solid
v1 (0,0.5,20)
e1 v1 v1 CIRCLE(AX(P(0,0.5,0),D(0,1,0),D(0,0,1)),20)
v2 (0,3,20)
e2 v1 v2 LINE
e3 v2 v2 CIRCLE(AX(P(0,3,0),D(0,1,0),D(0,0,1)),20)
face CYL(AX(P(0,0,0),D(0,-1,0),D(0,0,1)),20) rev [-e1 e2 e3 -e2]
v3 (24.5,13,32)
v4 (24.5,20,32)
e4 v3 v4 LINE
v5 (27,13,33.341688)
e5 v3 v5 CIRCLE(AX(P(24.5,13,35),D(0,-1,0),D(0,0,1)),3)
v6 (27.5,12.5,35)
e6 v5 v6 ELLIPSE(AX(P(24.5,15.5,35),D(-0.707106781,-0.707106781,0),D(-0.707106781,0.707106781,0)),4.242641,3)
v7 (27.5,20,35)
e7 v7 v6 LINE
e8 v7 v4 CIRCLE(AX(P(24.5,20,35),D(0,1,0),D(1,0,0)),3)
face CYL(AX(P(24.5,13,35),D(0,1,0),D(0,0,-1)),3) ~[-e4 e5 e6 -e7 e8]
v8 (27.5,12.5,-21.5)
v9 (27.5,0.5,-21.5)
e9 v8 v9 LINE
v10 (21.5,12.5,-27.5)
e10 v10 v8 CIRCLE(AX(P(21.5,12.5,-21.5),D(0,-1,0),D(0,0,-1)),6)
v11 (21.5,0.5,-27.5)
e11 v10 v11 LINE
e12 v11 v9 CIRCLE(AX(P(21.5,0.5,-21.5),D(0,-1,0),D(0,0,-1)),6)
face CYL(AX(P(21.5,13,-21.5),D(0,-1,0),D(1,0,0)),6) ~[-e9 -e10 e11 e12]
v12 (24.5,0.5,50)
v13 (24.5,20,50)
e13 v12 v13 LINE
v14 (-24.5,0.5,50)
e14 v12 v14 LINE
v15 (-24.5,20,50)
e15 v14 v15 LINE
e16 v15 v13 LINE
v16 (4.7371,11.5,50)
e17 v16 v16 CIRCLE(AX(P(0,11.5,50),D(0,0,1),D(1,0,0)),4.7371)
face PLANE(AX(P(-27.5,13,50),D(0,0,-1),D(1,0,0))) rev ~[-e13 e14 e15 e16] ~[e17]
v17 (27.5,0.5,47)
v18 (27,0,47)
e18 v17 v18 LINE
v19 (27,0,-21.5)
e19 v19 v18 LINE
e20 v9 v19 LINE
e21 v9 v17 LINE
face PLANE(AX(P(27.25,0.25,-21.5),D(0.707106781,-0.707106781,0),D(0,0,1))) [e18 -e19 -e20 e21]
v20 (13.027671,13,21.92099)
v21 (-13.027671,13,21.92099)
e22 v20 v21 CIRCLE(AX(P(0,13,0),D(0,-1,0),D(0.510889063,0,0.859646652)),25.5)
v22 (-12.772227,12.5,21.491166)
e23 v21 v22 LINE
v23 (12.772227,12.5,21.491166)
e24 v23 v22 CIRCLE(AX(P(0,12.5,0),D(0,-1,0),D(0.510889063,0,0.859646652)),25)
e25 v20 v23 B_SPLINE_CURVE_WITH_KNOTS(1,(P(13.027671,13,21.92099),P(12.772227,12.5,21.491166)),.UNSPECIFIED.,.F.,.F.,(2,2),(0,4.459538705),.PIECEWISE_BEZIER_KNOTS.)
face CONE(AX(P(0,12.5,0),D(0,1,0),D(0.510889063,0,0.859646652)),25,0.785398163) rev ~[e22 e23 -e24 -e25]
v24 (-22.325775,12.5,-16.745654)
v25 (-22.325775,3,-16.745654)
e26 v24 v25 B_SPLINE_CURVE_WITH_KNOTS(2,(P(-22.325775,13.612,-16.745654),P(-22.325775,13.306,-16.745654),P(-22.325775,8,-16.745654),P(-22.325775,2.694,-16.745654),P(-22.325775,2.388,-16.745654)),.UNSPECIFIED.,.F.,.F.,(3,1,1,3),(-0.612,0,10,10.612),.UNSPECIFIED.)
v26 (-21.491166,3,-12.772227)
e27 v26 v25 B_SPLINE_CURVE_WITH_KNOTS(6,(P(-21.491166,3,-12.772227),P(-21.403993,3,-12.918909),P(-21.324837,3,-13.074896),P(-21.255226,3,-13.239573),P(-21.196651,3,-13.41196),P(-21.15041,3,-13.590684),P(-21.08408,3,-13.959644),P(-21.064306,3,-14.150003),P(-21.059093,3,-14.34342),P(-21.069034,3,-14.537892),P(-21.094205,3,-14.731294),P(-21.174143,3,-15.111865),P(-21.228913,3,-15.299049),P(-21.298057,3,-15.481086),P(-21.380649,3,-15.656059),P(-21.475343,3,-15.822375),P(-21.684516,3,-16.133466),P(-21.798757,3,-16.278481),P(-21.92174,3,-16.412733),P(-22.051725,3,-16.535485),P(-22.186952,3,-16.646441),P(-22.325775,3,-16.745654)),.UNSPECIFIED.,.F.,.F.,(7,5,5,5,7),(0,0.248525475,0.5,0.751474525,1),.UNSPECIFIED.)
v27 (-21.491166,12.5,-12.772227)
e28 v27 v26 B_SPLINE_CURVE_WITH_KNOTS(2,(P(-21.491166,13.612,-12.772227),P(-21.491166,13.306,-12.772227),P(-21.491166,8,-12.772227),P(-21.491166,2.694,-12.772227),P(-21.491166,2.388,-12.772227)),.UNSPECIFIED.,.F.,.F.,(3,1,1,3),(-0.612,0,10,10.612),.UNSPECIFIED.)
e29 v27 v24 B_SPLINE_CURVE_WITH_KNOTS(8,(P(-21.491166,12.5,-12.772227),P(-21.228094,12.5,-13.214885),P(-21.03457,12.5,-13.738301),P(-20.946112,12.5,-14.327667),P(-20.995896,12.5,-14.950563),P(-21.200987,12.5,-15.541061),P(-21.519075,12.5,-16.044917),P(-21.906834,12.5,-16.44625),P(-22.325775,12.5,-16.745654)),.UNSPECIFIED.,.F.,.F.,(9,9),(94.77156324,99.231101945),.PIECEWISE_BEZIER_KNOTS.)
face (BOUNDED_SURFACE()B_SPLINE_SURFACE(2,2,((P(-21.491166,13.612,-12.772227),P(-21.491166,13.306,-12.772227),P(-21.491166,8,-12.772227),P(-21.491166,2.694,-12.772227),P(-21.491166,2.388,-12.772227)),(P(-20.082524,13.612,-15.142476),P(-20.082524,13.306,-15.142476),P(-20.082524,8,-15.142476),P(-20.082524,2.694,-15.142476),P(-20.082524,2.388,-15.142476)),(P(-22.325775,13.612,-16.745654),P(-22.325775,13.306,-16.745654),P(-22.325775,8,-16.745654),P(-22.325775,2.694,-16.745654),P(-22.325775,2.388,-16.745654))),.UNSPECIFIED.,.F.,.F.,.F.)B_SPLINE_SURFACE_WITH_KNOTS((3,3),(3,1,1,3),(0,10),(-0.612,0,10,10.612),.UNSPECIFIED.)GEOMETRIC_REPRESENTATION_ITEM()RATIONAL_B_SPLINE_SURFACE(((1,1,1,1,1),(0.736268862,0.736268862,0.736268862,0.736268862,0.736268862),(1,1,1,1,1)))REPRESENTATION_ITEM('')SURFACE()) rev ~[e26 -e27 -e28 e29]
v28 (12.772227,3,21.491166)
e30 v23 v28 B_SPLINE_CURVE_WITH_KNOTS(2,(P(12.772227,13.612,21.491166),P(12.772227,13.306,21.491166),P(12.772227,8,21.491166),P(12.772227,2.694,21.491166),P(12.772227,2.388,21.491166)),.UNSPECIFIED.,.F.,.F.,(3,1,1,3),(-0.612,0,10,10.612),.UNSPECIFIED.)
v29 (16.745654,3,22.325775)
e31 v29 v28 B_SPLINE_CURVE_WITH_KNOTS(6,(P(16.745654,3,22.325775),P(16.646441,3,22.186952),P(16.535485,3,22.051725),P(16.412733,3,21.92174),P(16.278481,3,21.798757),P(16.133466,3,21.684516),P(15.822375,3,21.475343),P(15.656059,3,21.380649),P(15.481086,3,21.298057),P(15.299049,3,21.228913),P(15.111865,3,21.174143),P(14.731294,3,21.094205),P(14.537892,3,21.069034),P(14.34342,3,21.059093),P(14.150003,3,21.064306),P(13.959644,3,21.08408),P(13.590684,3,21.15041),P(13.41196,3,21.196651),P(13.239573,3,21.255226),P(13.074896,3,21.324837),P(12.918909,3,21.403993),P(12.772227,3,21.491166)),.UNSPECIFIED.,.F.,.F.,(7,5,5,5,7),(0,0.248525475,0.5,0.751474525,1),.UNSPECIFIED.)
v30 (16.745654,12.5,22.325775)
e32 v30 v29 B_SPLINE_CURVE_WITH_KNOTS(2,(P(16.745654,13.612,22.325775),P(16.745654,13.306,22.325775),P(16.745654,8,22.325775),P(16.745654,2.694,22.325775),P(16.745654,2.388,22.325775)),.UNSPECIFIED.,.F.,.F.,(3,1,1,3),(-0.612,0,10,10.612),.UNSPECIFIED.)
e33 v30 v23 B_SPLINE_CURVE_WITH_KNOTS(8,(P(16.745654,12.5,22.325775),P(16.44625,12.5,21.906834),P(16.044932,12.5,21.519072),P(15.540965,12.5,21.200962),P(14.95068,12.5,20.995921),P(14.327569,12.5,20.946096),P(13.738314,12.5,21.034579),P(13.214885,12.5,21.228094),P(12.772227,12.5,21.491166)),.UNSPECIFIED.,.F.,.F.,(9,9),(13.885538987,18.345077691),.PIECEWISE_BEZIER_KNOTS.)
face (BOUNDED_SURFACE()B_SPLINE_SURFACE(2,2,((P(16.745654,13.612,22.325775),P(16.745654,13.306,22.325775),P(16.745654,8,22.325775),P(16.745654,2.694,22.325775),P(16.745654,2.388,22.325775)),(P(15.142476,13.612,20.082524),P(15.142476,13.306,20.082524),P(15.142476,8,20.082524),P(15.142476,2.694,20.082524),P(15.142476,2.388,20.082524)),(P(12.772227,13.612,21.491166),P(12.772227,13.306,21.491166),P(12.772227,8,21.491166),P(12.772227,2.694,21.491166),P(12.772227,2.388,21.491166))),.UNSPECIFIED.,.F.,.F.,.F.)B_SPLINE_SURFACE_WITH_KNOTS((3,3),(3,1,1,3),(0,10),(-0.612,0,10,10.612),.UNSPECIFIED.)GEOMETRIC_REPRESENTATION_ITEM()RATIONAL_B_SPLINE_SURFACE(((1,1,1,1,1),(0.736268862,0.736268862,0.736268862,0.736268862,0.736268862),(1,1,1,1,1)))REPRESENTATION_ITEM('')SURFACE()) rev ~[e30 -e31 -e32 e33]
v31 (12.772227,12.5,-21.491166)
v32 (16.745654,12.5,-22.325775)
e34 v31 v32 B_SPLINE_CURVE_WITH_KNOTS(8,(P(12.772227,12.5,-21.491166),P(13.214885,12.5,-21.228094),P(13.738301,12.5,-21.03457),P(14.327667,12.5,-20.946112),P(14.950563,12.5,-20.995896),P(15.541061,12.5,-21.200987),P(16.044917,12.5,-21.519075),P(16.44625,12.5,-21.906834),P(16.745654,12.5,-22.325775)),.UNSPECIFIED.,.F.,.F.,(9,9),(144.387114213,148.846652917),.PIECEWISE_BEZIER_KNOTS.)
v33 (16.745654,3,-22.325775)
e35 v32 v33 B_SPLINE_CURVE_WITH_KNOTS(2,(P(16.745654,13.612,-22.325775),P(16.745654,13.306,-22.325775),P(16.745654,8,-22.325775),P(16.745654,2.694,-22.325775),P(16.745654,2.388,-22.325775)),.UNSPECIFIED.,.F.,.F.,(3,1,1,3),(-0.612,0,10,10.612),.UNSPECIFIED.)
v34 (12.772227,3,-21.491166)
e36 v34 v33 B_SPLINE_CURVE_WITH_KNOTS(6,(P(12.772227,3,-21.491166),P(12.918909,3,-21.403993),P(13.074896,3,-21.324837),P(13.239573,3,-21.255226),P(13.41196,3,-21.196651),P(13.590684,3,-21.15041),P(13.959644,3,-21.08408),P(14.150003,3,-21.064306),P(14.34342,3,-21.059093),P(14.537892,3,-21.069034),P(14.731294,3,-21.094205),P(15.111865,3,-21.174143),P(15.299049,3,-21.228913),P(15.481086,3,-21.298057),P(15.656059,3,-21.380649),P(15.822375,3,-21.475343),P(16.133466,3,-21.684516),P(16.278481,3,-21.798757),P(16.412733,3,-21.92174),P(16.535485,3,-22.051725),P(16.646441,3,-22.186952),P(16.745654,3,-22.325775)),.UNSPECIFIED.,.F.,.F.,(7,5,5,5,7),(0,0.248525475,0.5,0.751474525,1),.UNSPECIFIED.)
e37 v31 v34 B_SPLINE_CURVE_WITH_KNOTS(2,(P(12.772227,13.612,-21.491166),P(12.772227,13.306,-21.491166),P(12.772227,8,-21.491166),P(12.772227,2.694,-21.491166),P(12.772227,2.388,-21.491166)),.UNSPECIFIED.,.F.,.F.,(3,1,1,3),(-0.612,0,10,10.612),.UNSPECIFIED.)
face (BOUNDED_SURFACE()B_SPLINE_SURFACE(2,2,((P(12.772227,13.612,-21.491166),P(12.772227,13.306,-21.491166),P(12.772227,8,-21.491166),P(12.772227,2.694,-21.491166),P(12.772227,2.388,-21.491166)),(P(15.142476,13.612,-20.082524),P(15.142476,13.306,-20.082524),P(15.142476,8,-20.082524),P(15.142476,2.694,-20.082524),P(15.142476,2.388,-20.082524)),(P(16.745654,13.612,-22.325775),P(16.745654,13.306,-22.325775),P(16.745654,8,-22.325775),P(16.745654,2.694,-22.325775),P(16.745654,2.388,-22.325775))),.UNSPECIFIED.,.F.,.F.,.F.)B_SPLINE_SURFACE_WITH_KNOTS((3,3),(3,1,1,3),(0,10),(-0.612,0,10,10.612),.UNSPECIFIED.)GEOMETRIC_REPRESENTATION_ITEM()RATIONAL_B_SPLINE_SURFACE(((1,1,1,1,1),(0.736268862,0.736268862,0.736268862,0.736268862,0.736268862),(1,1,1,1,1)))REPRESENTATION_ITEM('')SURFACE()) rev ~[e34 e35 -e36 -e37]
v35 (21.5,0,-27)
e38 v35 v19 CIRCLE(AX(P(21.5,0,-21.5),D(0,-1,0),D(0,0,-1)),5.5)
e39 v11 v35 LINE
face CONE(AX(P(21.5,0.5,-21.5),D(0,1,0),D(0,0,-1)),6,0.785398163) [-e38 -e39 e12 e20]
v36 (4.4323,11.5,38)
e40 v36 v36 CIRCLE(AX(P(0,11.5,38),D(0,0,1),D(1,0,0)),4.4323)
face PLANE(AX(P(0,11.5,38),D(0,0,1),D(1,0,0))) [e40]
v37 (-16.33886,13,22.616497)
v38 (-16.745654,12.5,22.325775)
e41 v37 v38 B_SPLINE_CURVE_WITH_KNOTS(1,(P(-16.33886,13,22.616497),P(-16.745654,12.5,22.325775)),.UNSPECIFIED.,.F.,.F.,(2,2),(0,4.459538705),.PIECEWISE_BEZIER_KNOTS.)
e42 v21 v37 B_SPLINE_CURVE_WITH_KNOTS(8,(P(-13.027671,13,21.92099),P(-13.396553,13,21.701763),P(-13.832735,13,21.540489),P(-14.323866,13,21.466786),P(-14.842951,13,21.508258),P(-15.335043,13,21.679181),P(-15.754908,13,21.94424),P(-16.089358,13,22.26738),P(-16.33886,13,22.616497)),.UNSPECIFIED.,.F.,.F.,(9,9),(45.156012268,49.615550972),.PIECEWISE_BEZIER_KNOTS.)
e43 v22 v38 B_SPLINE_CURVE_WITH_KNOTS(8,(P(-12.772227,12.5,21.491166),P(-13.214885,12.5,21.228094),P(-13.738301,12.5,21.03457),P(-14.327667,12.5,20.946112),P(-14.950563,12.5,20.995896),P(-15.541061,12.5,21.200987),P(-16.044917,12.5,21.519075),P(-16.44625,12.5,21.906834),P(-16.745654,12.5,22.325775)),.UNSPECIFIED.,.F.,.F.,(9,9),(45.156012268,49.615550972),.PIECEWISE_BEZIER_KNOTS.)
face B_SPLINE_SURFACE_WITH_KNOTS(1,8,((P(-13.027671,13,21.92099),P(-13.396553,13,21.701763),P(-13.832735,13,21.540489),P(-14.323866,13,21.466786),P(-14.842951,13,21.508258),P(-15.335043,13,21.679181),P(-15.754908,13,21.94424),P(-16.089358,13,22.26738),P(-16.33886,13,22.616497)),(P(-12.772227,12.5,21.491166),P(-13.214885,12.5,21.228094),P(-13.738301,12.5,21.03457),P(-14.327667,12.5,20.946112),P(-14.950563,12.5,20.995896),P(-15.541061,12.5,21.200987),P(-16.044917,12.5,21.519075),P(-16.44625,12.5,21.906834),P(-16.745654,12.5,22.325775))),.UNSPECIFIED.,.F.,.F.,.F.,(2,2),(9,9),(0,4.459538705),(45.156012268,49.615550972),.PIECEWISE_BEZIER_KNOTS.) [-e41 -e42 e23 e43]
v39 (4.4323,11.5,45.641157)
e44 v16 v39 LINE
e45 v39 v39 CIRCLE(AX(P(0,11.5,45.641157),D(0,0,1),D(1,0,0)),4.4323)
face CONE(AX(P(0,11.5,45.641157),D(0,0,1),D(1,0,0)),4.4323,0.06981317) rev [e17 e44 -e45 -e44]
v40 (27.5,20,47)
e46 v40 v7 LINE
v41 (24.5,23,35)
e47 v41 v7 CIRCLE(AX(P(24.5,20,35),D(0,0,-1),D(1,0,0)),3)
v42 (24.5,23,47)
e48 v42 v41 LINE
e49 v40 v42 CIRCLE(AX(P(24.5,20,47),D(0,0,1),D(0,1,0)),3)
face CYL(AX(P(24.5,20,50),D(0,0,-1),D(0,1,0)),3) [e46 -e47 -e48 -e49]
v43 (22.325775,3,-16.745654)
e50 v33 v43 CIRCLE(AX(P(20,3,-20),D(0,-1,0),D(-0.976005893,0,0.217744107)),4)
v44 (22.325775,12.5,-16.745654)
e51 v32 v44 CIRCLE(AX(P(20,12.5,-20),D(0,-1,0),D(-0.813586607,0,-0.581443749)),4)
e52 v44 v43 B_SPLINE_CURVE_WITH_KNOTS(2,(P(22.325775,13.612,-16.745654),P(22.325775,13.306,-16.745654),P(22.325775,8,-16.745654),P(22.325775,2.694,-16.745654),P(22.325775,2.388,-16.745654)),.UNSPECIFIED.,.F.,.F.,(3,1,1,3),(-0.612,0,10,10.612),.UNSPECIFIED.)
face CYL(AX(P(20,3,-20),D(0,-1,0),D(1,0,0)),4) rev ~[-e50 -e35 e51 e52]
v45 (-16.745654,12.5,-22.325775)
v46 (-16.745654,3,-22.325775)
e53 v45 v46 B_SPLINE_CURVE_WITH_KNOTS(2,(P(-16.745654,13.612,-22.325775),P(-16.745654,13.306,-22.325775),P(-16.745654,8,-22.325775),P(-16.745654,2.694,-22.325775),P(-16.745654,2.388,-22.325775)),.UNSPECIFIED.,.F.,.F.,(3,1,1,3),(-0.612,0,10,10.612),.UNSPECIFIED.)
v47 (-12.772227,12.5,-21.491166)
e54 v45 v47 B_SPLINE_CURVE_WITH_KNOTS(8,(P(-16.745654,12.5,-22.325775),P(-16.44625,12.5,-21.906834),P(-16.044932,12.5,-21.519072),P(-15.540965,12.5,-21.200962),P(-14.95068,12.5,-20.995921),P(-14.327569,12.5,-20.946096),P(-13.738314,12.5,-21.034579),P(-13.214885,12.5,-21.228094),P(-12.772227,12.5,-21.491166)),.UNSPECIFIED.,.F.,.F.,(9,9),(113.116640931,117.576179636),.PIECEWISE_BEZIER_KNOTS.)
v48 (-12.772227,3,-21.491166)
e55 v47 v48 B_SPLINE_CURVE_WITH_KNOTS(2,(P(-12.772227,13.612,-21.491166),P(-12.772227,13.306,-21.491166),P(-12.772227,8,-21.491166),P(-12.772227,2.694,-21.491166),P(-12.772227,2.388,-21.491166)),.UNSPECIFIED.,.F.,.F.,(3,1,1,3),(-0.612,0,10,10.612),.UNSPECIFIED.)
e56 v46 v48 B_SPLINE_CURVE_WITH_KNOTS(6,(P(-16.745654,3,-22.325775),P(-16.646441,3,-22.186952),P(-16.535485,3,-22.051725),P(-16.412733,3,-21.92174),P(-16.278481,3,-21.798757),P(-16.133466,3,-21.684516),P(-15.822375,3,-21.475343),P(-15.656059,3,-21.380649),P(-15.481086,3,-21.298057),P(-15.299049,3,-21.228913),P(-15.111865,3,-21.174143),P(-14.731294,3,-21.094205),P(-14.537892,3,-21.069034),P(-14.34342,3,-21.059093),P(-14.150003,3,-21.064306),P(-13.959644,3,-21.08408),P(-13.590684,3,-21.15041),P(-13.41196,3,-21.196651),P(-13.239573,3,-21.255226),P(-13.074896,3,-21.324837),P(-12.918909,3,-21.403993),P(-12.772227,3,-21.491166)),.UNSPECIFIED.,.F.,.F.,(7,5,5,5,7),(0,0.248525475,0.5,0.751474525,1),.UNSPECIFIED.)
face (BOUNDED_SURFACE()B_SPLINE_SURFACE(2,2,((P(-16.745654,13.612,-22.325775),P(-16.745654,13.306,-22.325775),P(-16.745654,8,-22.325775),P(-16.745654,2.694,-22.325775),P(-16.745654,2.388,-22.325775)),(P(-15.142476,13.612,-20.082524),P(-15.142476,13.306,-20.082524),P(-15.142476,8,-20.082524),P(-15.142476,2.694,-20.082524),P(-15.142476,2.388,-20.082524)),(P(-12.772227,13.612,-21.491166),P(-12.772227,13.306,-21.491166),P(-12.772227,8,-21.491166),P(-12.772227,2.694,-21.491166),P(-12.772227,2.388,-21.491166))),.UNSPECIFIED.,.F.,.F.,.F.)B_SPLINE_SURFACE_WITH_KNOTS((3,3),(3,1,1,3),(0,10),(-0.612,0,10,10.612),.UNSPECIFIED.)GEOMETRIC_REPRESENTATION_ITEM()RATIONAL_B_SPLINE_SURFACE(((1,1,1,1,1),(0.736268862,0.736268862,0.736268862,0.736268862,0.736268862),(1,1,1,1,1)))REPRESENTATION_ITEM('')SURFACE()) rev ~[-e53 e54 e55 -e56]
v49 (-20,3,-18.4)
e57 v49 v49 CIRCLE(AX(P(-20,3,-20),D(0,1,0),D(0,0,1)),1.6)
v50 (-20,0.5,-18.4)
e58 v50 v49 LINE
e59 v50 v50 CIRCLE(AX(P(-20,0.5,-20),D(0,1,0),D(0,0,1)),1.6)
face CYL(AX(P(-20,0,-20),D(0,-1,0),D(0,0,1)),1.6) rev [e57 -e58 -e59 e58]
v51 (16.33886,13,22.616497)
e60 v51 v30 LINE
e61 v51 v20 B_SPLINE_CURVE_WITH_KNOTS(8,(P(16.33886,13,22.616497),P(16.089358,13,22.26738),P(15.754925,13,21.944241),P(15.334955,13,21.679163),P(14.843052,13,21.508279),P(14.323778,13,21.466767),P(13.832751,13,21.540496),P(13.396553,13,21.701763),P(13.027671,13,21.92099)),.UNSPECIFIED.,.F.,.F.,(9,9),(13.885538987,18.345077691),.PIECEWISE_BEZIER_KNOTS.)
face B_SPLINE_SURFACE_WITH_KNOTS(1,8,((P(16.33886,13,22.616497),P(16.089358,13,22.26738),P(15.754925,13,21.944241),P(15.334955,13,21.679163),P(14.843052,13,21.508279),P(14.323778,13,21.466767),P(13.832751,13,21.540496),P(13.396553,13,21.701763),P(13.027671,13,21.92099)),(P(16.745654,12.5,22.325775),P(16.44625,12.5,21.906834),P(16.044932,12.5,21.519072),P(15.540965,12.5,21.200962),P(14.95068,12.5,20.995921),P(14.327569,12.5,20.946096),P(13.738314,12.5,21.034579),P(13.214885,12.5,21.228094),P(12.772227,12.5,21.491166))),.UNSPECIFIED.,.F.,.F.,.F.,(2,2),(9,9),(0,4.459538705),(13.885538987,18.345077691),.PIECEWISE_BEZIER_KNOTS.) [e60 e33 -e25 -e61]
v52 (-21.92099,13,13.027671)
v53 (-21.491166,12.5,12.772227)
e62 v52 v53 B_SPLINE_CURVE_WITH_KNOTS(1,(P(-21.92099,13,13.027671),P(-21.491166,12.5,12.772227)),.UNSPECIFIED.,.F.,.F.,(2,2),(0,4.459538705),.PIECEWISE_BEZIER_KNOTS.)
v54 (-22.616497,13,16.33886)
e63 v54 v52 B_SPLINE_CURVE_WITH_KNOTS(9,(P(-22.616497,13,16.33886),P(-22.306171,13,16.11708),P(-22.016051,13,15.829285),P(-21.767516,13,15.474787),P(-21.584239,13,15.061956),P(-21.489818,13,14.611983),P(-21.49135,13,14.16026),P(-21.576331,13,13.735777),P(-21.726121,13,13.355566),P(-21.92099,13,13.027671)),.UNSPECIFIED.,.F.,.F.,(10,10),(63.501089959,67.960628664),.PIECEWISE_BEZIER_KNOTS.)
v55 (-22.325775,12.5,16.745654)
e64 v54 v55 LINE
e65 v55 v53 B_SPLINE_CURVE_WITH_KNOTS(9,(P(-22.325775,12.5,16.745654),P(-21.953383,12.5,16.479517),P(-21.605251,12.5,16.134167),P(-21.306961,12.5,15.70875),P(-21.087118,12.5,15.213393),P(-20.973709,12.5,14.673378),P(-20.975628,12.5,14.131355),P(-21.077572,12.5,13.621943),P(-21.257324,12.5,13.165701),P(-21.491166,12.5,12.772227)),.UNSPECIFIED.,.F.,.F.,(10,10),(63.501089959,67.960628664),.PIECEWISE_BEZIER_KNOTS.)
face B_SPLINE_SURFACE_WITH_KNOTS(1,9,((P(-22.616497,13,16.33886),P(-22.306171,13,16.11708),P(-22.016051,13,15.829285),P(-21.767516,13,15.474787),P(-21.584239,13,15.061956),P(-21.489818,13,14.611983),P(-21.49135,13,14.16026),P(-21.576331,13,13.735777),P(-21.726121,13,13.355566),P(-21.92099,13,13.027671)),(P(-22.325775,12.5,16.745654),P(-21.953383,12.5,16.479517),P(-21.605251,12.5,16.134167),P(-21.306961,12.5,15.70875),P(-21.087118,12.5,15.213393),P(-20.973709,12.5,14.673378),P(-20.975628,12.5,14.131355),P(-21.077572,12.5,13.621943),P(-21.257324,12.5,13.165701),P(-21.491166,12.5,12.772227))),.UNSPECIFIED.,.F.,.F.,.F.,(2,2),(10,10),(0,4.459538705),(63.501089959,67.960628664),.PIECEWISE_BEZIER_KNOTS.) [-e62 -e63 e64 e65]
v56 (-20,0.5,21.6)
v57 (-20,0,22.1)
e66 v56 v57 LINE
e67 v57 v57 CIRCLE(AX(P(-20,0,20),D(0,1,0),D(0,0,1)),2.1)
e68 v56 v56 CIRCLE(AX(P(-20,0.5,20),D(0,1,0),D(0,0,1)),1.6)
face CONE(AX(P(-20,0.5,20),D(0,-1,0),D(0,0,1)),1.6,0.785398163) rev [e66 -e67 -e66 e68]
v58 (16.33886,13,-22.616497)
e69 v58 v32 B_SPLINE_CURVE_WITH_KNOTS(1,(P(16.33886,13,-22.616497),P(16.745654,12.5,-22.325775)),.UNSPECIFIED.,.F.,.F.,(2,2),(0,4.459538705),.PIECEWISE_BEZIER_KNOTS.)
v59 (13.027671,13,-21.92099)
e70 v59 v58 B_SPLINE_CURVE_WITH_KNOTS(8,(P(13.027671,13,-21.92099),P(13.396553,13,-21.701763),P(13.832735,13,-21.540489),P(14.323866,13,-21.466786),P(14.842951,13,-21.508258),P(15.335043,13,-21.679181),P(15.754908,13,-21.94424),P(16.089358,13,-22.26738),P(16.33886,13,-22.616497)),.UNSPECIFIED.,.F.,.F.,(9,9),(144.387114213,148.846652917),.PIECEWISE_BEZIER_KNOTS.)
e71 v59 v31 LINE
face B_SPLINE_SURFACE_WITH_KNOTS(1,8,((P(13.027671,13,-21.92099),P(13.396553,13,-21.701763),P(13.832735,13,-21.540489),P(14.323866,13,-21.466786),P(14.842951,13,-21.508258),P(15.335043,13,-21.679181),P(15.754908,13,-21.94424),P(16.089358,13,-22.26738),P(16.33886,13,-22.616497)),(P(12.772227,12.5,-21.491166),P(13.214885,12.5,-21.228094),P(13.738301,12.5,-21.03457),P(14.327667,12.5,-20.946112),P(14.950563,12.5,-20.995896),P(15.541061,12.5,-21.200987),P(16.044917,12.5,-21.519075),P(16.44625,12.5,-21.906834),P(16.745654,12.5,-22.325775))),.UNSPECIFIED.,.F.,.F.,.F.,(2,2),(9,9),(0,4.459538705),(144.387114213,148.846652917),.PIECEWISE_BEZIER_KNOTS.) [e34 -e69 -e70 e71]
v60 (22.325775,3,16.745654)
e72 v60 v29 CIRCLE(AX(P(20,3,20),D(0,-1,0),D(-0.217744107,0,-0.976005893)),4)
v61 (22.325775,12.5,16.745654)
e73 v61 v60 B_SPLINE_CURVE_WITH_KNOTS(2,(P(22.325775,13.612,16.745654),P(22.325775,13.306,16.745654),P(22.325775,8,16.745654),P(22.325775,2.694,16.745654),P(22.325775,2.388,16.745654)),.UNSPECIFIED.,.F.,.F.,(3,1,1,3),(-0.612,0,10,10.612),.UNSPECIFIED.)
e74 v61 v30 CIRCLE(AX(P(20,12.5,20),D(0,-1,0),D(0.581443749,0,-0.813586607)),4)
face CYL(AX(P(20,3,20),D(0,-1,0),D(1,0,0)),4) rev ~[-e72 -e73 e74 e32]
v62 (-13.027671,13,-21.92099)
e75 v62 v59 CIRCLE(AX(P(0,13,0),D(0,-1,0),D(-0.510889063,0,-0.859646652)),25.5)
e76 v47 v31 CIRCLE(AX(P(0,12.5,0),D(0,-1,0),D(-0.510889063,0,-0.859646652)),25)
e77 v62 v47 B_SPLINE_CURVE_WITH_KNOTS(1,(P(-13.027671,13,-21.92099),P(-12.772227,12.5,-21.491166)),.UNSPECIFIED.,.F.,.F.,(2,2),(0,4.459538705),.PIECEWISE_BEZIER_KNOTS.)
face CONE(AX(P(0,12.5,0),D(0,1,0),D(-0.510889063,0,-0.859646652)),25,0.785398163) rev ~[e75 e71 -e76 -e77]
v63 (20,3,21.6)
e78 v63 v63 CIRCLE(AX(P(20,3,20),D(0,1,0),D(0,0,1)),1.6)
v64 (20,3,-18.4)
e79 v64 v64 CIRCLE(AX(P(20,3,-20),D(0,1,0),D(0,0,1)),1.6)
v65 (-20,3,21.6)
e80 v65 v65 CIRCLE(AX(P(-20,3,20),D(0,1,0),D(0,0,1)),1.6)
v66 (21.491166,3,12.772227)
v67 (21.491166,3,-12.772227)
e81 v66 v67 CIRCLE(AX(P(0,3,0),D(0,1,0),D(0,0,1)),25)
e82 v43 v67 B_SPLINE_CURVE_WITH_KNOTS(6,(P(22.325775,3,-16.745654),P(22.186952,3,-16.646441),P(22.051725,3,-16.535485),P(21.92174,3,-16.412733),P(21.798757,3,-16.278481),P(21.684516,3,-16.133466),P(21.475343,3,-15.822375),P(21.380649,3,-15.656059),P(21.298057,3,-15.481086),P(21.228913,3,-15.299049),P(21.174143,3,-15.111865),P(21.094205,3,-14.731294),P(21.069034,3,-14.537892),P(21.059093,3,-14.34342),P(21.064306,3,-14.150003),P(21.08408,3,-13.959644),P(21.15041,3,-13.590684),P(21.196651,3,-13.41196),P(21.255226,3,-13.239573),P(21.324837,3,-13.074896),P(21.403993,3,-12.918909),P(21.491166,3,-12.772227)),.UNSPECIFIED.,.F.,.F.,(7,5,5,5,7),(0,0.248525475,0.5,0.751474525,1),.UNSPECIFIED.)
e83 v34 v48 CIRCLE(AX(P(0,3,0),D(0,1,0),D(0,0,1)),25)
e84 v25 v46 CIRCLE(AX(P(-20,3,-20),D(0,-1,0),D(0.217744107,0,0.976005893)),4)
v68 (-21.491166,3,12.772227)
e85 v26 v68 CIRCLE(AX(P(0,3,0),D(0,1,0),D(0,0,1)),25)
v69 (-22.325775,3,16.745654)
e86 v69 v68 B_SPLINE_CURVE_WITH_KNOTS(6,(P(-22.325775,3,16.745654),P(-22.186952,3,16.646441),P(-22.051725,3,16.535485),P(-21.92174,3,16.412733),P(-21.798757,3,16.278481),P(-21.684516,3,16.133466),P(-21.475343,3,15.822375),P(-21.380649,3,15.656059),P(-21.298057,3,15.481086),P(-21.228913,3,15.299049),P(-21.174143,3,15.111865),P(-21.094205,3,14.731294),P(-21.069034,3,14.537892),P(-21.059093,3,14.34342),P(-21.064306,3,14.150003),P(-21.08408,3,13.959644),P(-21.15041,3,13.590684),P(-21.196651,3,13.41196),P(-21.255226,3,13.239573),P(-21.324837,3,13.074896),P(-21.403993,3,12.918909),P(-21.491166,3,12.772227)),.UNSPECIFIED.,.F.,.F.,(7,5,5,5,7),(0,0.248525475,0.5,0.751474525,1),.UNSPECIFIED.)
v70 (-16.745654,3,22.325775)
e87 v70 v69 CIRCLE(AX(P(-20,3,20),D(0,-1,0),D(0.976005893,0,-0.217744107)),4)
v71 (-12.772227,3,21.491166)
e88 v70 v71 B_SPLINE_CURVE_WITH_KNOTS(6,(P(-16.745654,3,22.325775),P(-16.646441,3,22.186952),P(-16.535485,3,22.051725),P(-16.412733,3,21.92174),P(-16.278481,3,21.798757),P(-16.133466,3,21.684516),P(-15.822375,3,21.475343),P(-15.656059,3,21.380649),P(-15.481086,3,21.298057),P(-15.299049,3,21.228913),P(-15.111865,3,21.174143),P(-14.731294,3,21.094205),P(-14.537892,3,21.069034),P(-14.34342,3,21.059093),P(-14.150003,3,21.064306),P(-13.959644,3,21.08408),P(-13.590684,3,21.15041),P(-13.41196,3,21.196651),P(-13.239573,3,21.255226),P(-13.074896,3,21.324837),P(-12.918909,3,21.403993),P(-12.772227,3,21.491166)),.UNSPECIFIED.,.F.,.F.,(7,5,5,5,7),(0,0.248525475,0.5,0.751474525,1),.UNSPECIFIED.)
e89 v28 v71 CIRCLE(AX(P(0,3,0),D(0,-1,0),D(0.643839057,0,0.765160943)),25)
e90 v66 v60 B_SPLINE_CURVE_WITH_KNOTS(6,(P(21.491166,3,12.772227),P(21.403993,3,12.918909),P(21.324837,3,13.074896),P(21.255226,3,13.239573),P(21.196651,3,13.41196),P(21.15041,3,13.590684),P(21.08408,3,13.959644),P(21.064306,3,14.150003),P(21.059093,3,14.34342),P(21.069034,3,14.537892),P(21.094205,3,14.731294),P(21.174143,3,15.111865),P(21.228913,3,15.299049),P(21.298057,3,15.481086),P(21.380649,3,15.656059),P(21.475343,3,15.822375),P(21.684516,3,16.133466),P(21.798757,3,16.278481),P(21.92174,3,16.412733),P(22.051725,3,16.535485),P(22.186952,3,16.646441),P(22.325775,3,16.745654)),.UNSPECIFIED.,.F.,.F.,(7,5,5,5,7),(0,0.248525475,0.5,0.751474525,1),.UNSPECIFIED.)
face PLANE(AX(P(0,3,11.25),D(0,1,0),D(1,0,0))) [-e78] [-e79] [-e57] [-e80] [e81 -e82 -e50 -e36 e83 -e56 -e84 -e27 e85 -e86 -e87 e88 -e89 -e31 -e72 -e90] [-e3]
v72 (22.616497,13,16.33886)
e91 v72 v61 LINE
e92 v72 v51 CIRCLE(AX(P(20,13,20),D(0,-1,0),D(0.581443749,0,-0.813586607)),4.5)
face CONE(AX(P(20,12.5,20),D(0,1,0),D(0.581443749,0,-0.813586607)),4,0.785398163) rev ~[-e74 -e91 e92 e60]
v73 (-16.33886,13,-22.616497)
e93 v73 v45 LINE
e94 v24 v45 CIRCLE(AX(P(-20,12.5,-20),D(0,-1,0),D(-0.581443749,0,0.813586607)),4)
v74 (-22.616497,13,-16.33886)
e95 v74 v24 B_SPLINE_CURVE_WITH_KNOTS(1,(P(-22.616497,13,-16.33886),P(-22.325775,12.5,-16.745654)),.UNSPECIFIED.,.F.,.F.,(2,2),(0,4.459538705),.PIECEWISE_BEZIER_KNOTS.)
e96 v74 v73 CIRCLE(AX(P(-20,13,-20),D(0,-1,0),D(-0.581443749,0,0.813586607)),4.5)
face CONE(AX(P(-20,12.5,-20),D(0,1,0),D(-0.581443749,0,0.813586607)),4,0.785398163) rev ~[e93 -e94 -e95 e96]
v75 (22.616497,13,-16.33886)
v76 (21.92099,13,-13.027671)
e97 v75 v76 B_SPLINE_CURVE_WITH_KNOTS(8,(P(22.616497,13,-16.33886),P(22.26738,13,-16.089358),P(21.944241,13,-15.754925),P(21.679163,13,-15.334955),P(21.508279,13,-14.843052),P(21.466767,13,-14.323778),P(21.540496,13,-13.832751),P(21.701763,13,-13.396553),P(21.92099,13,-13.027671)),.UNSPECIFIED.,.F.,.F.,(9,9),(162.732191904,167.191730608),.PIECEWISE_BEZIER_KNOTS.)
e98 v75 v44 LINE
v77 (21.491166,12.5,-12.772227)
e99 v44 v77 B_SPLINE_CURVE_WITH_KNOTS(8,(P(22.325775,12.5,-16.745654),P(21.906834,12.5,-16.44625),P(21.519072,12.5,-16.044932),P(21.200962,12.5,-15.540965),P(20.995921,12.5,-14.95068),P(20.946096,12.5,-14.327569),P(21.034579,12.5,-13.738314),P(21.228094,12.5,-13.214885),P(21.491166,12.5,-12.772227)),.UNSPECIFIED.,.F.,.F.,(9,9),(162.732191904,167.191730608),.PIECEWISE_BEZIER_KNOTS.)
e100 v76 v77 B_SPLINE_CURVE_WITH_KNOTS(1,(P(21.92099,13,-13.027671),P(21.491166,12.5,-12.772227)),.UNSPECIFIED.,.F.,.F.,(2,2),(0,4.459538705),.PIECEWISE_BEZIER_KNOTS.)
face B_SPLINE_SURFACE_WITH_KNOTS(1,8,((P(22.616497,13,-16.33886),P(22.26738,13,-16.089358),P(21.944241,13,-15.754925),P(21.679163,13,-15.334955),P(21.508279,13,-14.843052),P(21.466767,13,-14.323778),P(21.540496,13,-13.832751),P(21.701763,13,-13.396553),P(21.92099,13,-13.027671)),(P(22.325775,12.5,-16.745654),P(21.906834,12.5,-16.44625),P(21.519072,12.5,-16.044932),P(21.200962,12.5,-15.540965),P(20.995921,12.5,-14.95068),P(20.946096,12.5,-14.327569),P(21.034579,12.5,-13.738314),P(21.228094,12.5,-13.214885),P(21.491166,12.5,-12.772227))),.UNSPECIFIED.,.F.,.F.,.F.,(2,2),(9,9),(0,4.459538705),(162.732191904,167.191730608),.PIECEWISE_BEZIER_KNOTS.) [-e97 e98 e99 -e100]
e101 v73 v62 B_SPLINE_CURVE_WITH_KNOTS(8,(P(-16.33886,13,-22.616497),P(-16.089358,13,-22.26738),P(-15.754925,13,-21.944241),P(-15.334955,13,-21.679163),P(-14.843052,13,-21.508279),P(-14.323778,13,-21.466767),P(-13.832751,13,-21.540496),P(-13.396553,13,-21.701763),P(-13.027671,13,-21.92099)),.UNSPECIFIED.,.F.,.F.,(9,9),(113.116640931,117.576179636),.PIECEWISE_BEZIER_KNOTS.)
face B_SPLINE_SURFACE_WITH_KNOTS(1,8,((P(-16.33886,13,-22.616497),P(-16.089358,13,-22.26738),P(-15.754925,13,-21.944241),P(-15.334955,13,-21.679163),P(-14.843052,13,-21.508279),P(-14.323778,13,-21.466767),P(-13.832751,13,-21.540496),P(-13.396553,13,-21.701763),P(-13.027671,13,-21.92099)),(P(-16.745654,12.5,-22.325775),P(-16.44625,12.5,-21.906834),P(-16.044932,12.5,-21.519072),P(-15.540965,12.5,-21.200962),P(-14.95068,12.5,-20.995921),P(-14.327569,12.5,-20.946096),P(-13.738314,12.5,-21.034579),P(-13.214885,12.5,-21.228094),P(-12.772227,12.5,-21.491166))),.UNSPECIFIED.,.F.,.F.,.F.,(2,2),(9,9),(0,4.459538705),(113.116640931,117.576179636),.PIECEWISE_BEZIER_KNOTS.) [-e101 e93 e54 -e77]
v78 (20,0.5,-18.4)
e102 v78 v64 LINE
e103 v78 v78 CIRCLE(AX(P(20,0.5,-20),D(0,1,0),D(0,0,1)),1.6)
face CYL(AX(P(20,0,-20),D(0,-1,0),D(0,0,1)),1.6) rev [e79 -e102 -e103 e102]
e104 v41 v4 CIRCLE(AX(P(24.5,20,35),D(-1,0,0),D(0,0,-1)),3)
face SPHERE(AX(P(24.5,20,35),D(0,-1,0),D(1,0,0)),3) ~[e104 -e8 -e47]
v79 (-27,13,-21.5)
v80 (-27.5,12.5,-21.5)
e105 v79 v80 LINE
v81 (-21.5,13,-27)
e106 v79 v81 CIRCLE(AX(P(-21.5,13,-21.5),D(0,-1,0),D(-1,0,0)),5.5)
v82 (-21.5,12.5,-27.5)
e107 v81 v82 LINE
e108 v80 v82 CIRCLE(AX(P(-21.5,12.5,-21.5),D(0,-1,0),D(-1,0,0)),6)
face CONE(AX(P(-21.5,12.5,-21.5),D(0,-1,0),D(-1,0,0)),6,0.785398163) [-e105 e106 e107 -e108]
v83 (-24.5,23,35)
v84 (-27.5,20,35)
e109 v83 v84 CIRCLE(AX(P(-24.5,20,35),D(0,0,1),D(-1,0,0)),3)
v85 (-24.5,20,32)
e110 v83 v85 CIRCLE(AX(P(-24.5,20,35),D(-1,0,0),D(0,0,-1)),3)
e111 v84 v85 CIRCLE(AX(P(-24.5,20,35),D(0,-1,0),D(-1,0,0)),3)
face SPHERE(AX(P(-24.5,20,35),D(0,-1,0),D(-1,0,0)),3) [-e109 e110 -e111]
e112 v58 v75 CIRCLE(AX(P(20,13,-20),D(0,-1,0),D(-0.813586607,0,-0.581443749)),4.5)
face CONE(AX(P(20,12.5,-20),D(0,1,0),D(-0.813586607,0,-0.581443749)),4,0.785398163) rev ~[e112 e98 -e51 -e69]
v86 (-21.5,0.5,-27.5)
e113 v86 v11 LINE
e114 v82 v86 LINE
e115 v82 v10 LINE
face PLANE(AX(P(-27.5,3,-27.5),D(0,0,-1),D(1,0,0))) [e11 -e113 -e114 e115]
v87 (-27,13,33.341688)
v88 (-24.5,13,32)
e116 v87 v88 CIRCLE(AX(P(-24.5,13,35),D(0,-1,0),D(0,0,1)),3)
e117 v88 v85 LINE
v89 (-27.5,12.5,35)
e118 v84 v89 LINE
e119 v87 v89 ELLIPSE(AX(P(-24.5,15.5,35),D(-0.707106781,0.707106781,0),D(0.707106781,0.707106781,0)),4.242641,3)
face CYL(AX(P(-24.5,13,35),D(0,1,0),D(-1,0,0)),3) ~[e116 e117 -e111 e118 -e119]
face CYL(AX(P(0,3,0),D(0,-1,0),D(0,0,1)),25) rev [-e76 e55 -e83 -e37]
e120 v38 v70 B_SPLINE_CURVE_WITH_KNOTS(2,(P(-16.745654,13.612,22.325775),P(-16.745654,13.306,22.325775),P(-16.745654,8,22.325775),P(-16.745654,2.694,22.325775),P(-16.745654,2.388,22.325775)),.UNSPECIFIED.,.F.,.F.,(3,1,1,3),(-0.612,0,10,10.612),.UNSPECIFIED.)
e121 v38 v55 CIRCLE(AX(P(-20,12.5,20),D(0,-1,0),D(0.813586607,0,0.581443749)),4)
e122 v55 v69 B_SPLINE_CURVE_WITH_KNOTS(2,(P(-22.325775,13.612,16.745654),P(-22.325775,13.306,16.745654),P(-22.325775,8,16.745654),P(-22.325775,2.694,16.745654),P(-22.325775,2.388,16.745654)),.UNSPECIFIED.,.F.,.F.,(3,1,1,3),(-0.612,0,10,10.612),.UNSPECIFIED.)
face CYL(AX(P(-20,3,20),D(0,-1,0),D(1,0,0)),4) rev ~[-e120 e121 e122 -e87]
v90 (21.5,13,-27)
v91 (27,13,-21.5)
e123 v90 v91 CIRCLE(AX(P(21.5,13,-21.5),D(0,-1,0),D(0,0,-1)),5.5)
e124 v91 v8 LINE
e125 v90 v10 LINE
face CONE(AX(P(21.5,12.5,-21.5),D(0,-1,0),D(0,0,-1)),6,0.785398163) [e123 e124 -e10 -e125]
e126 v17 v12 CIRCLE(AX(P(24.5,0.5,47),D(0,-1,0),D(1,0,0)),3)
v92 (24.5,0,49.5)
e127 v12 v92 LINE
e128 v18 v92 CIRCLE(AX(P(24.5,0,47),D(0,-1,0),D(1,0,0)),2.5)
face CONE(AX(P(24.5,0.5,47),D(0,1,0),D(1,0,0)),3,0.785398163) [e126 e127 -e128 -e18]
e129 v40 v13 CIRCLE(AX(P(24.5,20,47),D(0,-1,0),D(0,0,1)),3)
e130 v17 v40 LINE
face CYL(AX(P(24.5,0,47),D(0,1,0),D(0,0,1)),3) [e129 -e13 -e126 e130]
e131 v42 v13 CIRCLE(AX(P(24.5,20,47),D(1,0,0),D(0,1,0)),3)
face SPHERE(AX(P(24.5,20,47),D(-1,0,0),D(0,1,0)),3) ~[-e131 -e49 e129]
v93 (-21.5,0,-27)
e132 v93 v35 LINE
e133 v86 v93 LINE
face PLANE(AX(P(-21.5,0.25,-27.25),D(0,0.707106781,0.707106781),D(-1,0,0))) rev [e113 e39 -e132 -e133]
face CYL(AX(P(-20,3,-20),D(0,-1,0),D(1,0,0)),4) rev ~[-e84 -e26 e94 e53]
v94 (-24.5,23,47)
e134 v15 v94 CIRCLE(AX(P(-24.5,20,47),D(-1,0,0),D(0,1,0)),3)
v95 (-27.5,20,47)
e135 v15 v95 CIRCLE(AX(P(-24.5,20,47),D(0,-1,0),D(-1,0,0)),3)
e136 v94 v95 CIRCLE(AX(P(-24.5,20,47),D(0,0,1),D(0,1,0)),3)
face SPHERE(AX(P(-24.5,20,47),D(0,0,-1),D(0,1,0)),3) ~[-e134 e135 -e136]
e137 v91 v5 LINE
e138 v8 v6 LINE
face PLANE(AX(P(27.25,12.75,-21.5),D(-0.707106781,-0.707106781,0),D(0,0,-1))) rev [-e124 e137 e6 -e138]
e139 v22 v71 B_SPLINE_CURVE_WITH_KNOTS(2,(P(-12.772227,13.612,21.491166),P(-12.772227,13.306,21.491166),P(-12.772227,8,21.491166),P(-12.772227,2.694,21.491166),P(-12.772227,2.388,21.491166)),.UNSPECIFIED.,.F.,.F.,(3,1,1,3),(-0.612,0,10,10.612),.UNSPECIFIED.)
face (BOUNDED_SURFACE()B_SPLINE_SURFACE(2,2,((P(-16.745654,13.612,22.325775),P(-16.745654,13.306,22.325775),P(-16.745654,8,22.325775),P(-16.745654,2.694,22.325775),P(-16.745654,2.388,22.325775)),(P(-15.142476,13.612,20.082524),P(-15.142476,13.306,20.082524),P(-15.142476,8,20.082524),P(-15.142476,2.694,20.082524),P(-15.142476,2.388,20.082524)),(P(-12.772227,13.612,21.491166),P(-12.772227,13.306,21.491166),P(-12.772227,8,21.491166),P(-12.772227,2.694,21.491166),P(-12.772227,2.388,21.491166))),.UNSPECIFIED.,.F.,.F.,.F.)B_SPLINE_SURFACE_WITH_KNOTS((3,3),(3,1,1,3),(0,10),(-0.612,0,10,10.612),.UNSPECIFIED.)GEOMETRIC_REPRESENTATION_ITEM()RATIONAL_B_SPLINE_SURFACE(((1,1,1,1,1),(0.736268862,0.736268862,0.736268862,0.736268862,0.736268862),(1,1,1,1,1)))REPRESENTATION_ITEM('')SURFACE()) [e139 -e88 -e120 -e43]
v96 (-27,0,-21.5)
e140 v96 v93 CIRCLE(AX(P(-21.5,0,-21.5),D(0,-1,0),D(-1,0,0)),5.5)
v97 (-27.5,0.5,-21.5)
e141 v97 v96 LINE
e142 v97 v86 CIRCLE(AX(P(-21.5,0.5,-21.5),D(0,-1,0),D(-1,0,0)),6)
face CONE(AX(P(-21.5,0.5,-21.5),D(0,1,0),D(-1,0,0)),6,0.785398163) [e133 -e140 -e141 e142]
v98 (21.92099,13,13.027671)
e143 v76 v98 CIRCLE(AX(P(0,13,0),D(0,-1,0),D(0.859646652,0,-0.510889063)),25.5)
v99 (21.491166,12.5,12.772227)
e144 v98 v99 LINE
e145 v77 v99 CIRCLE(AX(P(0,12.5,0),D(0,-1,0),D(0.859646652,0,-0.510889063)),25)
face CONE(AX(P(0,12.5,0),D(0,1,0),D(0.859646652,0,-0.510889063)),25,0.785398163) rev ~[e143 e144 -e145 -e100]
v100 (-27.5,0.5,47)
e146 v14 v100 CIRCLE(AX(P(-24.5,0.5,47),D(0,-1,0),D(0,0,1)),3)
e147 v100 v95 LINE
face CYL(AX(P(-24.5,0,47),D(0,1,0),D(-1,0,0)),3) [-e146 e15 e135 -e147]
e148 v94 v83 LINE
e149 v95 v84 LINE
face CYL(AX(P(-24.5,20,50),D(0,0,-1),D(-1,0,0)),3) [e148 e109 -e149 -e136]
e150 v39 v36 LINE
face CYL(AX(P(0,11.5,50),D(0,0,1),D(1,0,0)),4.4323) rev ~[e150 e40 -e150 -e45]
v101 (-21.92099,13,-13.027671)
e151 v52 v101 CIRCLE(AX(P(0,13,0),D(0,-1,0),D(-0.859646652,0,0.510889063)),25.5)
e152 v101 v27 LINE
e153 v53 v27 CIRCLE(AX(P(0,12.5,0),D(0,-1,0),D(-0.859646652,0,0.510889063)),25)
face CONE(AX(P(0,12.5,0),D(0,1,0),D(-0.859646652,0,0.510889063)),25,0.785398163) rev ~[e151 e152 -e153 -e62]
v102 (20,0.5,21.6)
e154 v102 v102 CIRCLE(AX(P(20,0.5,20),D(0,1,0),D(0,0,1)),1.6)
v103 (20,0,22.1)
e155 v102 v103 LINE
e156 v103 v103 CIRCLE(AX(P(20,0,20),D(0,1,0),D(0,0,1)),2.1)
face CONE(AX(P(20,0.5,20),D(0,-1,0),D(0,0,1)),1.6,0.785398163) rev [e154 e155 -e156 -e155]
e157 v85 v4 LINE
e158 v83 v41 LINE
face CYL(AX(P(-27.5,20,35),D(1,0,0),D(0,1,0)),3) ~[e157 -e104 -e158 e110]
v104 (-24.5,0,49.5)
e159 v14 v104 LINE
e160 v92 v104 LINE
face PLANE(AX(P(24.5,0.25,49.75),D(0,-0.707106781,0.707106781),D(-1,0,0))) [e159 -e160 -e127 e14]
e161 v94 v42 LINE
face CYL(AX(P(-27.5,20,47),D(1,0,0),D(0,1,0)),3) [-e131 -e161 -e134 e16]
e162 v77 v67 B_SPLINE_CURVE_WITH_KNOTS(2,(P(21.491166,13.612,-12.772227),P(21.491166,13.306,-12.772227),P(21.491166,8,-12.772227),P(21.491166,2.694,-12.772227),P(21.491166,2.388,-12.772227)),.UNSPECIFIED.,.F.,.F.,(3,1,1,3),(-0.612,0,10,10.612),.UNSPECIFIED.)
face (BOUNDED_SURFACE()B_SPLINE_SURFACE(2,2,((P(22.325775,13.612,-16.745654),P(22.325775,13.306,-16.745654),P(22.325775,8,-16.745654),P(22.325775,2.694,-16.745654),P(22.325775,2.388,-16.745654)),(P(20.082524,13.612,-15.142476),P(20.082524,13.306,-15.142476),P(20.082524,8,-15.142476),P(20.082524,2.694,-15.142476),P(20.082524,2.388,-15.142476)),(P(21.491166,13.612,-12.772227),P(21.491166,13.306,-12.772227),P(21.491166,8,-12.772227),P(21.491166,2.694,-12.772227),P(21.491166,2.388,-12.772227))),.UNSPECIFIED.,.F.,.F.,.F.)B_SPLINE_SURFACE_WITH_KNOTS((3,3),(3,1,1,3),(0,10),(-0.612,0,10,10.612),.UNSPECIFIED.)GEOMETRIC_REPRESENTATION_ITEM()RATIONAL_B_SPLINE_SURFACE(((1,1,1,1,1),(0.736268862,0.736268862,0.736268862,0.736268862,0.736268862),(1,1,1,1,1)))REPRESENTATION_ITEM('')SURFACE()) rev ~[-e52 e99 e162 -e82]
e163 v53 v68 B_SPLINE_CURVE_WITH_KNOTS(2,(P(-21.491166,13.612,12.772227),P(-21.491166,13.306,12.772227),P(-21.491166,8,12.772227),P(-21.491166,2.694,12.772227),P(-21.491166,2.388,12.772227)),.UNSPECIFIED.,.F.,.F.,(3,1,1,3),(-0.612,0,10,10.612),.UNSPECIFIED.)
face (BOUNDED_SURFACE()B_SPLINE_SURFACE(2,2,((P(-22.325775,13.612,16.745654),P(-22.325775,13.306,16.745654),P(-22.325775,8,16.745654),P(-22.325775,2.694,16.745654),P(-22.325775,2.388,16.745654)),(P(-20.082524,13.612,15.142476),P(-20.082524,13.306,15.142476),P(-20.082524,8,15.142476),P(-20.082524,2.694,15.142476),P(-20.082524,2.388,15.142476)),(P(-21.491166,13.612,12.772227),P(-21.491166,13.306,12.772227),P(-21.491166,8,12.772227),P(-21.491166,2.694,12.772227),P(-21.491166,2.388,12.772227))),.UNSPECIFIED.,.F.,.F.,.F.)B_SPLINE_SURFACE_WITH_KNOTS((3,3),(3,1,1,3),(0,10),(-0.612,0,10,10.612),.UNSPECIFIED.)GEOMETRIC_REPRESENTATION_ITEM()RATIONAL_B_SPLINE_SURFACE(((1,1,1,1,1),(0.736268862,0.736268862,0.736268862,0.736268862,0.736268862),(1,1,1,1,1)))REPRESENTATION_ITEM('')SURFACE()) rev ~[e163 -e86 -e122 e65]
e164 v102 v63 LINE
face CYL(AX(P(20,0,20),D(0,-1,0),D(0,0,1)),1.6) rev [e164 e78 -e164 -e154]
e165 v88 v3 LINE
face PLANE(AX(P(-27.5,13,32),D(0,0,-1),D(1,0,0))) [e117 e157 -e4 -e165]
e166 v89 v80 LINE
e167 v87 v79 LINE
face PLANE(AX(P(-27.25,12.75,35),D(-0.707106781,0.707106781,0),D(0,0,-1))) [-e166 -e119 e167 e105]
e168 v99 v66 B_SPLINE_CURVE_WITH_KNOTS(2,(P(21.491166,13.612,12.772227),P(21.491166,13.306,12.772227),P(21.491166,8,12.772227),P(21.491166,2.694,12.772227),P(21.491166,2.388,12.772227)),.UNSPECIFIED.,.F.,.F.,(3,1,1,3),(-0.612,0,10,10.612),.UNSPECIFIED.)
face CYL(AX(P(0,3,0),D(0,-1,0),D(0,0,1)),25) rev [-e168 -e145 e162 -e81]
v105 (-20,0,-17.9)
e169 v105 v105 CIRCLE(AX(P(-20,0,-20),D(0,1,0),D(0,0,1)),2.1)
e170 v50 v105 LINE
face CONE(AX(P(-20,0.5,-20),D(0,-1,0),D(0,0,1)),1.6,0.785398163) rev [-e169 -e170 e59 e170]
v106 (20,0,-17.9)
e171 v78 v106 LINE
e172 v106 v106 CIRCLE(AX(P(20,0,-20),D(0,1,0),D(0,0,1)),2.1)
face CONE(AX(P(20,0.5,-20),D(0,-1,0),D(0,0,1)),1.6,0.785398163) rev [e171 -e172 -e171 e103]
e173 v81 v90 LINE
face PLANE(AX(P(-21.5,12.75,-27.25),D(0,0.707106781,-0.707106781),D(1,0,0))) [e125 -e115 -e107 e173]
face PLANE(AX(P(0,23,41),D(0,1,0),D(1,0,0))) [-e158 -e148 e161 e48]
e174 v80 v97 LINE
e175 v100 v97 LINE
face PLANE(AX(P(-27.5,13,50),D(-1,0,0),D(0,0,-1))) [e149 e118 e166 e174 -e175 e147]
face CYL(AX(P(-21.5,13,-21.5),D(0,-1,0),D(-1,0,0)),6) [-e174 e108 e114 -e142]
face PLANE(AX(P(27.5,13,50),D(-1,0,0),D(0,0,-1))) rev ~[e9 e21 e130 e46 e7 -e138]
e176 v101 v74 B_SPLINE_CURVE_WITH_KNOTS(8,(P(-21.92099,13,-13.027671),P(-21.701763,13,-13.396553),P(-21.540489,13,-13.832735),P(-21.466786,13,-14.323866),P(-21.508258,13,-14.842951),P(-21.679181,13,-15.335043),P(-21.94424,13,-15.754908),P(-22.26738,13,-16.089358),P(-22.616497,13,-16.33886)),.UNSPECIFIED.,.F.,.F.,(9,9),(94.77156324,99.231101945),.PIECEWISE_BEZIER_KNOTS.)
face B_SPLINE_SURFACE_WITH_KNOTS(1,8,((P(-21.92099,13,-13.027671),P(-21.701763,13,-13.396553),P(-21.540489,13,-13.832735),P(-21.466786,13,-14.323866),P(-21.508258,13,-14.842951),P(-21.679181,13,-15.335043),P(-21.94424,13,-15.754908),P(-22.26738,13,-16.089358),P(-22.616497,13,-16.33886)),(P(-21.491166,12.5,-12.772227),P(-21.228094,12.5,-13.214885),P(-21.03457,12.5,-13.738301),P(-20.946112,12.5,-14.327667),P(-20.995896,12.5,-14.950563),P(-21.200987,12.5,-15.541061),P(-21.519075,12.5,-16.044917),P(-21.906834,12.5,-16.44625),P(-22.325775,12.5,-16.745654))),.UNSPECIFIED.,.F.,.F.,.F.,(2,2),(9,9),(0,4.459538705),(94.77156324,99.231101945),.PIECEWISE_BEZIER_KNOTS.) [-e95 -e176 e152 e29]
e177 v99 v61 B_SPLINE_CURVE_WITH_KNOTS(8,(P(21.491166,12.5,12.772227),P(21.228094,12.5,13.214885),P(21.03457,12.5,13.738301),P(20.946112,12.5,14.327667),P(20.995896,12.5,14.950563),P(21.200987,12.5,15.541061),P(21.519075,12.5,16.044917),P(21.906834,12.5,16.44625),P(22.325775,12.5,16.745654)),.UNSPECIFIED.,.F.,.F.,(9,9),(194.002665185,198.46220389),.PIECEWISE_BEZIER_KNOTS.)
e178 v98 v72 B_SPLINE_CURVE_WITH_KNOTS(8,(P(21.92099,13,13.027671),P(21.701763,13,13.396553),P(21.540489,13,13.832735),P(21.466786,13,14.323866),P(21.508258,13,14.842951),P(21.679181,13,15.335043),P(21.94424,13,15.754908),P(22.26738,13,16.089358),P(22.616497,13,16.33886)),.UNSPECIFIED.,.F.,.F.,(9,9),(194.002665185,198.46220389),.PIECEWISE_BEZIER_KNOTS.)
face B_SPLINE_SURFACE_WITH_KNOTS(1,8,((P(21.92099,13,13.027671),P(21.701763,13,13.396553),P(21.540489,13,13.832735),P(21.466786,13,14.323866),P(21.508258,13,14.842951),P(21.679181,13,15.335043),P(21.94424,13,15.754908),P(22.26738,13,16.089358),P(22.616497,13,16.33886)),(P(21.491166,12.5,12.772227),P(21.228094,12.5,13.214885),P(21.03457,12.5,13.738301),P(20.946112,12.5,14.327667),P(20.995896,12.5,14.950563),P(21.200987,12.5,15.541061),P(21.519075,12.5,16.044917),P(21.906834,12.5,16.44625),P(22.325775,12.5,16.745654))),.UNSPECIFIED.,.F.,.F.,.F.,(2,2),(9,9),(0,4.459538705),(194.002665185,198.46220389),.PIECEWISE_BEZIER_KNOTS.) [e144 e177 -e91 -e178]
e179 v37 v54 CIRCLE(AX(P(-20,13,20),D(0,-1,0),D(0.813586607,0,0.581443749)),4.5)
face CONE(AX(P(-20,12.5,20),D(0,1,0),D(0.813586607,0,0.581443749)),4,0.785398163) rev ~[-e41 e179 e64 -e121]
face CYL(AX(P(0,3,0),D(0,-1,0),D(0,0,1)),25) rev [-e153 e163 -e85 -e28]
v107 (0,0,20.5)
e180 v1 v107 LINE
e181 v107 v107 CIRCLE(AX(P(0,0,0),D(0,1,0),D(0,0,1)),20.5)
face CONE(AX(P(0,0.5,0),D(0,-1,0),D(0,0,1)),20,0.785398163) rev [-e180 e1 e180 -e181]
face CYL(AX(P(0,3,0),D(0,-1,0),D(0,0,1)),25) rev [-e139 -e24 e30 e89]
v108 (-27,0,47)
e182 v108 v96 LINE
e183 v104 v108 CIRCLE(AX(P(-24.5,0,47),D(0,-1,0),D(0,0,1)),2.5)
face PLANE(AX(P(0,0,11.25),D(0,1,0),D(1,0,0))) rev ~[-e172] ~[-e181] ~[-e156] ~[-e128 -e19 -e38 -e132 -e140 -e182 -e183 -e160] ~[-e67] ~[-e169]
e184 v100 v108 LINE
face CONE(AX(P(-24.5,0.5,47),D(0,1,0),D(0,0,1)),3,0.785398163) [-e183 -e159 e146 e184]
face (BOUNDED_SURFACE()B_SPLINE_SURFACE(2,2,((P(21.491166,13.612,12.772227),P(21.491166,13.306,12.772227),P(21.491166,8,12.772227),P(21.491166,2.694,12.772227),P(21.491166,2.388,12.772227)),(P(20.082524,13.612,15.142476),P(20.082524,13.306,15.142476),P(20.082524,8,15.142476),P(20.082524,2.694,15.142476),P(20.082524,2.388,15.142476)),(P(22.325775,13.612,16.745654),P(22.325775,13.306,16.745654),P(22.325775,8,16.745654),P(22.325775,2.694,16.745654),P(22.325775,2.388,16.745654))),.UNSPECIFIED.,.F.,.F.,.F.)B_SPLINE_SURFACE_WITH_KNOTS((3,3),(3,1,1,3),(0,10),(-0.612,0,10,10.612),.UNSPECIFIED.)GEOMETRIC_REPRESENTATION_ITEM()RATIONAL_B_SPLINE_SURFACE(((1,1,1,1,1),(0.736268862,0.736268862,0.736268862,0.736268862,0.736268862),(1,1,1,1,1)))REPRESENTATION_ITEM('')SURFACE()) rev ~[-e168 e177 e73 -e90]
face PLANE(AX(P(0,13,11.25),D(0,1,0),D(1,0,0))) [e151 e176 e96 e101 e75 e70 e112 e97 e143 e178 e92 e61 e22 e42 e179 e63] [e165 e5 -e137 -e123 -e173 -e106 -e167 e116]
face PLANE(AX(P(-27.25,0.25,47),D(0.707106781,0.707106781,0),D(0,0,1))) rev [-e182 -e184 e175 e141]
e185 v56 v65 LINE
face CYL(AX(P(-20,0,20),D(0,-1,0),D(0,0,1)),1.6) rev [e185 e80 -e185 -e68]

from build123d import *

# Parameters (mm, degrees)
SKETCH3_W                = 55
SKETCH3_H                = 77.5
SKETCH3_R                = 20
SKETCH3_R_2              = 1.6
BOSS_EXTRUDE1_DEPTH      = 3
SKETCH4_W                = 55
SKETCH4_H                = 77.5
SKETCH4_R                = 25
BOSS_EXTRUDE2_DEPTH      = 10
SKETCH5_R                = 4
CUT_EXTRUDE1_DEPTH       = 11
FILLET1_R                = 3
FILLET2_R                = 6
SKETCH6_W                = 55
SKETCH6_H                = 18
BOSS_EXTRUDE3_DEPTH      = 10
SKETCH7_R                = 4.4323
TRIPODMOUNT_DEPTH        = 12
FILLET3_R                = 3
CHAMFER1_SIZE            = 0.5
CHAMFER3_SIZE            = 0.5
CHAMFERTRIPODMOUNT_SIZE  = 0.3048
CHAMFERTRIPODMOUNT_SIZE2 = 4.358843075


with BuildPart() as part:
    # Sketch3 → Boss-Extrude1 (new body)
    with BuildSketch(Plane(origin=(0, 0, 0), x_dir=(1, 0, 0), z_dir=(0, 1, 0))):
        with Locations((0, -11.25)):
            Rectangle(SKETCH3_W, SKETCH3_H)
        with Locations(Location((0, 0, 0), (0, 0, 270))):  # turned: the seam where the file's is
            Circle(SKETCH3_R, mode=Mode.SUBTRACT)
        with Locations(Location((-20, 20, 0), (0, 0, 270))):  # turned: the seam where the file's is
            Circle(SKETCH3_R_2, mode=Mode.SUBTRACT)
        with Locations(Location((20, 20, 0), (0, 0, 270))):  # turned: the seam where the file's is
            Circle(SKETCH3_R_2, mode=Mode.SUBTRACT)
        with Locations(Location((20, -20, 0), (0, 0, 270))):  # turned: the seam where the file's is
            Circle(SKETCH3_R_2, mode=Mode.SUBTRACT)
        with Locations(Location((-20, -20, 0), (0, 0, 270))):  # turned: the seam where the file's is
            Circle(SKETCH3_R_2, mode=Mode.SUBTRACT)
    extrude(amount=BOSS_EXTRUDE1_DEPTH)

    # Sketch4 → Boss-Extrude2 (add)
    with BuildSketch(Plane(origin=(0, 3, 0), x_dir=(1, 0, 0), z_dir=(0, 1, 0))):
        with Locations((0, -11.25)):
            Rectangle(SKETCH4_W, SKETCH4_H)
        with Locations(Location((0, 0, 0), (0, 0, 270))):  # turned: the seam where the file's is
            Circle(SKETCH4_R, mode=Mode.SUBTRACT)
    extrude(amount=BOSS_EXTRUDE2_DEPTH)

    # Sketch5 → Cut-Extrude1 (cut, through all)
    with BuildSketch(Plane.XZ.offset(-3)):
        with Locations((20, -20)):
            Circle(SKETCH5_R)
        with Locations((-20, -20)):
            Circle(SKETCH5_R)
        with Locations((-20, 20)):
            Circle(SKETCH5_R)
        with Locations((20, 20)):
            Circle(SKETCH5_R)
    extrude(amount=-CUT_EXTRUDE1_DEPTH, mode=Mode.SUBTRACT)

    # Fillet1
    fillet1_edges = [part.edges().sort_by_distance(p)[0] for p in [
        (16.095976426, 8, 19.129023574),
        (19.129023574, 8, 16.095976426),
        (-19.129023574, 8, 16.095976426),
        (-16.095976426, 8, 19.129023574),
        (-16.095976426, 8, -19.129023574),
        (-19.129023574, 8, -16.095976426),
        (19.129023574, 8, -16.095976426),
        (16.095976426, 8, -19.129023574),
    ]]
    fillet(fillet1_edges, radius=FILLET1_R)

    # Fillet2
    fillet2_edges = [part.edges().sort_by_distance(p)[0] for p in [
        (-27.5, 6.5, -27.5),
        (27.5, 6.5, -27.5),
    ]]
    fillet(fillet2_edges, radius=FILLET2_R)

    # Sketch6 → Boss-Extrude3 (add)
    with BuildSketch(Plane(origin=(0, 13, 0), x_dir=(1, 0, 0), z_dir=(0, 1, 0))):
        with Locations((0, -41)):
            Rectangle(SKETCH6_W, SKETCH6_H)
    extrude(amount=BOSS_EXTRUDE3_DEPTH)

    # Sketch7 → TripodMount (cut)
    with BuildSketch(Plane.XY.offset(50)):
        with Locations((0, 11.5)):
            Circle(SKETCH7_R)
    extrude(amount=-TRIPODMOUNT_DEPTH, mode=Mode.SUBTRACT)

    # Fillet3
    fillet3_edges = [part.edges().sort_by_distance(p)[0] for p in [
        (-27.5, 18, 32),
        (27.5, 18, 32),
        (-27.5, 23, 41),
        (0, 23, 50),
        (27.5, 23, 41),
        (0, 23, 32),
        (27.5, 11.5, 50),
        (-27.5, 11.5, 50),
    ]]
    fillet(fillet3_edges, radius=FILLET3_R)

    # Chamfer1
    chamfer1_edges = [part.edges().sort_by_distance(p)[0] for p in [
        (0, 0, -20),
        (0, 0, -27.5),
        (-27.5, 0, 12.75),
        (-25.742640687, 0, -25.742640687),
        (25.742640687, 0, -25.742640687),
        (20, 0, -21.6),
        (27.5, 0, 12.75),
        (0, 0, 50),
        (-26.621320344, 0, 49.121320344),
        (26.621320344, 0, 49.121320344),
        (20, 0, 18.4),
        (-20, 0, 18.4),
        (-20, 0, -21.6),
    ]]
    chamfer(chamfer1_edges, length=CHAMFER1_SIZE)

    # Chamfer3
    chamfer3_edges = [part.edges().sort_by_distance(p)[0] for p in [
        (22.828427125, 13, 22.828427125),
        (0, 13, 25),
        (-22.828427125, 13, 22.828427125),
        (-25, 13, 0),
        (-22.828427125, 13, -22.828427125),
        (0, 13, -25),
        (25, 13, 0),
        (-14.921579234, 13, -21.134173852),
        (-21.134173852, 13, -14.921579234),
        (-21.134173852, 13, 14.921579234),
        (14.921579234, 13, -21.134173852),
        (21.134173852, 13, 14.921579234),
        (14.921579234, 13, 21.134173852),
        (-14.921579234, 13, 21.134173852),
        (21.134173852, 13, -14.921579234),
        (0, 13, -27.5),
        (-27.5, 13, 5.25),
        (-25.742640687, 13, -25.742640687),
        (25.742640687, 13, -25.742640687),
        (27.5, 13, 5.25),
        (22.828427125, 13, -22.828427125),
    ]]
    chamfer(chamfer3_edges, length=CHAMFER3_SIZE)

    # ChamferTripodMount
    chamfertripodmount_edges = [part.edges().sort_by_distance(p)[0] for p in [
        (-4.4323, 11.5, 50),
    ]]
    chamfertripodmount_side = [part.faces().sort_by_distance(p)[0] for p in [
        (23.972624422, 10.25, 50),
    ]]
    chamfer(chamfertripodmount_edges, length=CHAMFERTRIPODMOUNT_SIZE, length2=CHAMFERTRIPODMOUNT_SIZE2, reference=chamfertripodmount_side[0])


solid = part.part
